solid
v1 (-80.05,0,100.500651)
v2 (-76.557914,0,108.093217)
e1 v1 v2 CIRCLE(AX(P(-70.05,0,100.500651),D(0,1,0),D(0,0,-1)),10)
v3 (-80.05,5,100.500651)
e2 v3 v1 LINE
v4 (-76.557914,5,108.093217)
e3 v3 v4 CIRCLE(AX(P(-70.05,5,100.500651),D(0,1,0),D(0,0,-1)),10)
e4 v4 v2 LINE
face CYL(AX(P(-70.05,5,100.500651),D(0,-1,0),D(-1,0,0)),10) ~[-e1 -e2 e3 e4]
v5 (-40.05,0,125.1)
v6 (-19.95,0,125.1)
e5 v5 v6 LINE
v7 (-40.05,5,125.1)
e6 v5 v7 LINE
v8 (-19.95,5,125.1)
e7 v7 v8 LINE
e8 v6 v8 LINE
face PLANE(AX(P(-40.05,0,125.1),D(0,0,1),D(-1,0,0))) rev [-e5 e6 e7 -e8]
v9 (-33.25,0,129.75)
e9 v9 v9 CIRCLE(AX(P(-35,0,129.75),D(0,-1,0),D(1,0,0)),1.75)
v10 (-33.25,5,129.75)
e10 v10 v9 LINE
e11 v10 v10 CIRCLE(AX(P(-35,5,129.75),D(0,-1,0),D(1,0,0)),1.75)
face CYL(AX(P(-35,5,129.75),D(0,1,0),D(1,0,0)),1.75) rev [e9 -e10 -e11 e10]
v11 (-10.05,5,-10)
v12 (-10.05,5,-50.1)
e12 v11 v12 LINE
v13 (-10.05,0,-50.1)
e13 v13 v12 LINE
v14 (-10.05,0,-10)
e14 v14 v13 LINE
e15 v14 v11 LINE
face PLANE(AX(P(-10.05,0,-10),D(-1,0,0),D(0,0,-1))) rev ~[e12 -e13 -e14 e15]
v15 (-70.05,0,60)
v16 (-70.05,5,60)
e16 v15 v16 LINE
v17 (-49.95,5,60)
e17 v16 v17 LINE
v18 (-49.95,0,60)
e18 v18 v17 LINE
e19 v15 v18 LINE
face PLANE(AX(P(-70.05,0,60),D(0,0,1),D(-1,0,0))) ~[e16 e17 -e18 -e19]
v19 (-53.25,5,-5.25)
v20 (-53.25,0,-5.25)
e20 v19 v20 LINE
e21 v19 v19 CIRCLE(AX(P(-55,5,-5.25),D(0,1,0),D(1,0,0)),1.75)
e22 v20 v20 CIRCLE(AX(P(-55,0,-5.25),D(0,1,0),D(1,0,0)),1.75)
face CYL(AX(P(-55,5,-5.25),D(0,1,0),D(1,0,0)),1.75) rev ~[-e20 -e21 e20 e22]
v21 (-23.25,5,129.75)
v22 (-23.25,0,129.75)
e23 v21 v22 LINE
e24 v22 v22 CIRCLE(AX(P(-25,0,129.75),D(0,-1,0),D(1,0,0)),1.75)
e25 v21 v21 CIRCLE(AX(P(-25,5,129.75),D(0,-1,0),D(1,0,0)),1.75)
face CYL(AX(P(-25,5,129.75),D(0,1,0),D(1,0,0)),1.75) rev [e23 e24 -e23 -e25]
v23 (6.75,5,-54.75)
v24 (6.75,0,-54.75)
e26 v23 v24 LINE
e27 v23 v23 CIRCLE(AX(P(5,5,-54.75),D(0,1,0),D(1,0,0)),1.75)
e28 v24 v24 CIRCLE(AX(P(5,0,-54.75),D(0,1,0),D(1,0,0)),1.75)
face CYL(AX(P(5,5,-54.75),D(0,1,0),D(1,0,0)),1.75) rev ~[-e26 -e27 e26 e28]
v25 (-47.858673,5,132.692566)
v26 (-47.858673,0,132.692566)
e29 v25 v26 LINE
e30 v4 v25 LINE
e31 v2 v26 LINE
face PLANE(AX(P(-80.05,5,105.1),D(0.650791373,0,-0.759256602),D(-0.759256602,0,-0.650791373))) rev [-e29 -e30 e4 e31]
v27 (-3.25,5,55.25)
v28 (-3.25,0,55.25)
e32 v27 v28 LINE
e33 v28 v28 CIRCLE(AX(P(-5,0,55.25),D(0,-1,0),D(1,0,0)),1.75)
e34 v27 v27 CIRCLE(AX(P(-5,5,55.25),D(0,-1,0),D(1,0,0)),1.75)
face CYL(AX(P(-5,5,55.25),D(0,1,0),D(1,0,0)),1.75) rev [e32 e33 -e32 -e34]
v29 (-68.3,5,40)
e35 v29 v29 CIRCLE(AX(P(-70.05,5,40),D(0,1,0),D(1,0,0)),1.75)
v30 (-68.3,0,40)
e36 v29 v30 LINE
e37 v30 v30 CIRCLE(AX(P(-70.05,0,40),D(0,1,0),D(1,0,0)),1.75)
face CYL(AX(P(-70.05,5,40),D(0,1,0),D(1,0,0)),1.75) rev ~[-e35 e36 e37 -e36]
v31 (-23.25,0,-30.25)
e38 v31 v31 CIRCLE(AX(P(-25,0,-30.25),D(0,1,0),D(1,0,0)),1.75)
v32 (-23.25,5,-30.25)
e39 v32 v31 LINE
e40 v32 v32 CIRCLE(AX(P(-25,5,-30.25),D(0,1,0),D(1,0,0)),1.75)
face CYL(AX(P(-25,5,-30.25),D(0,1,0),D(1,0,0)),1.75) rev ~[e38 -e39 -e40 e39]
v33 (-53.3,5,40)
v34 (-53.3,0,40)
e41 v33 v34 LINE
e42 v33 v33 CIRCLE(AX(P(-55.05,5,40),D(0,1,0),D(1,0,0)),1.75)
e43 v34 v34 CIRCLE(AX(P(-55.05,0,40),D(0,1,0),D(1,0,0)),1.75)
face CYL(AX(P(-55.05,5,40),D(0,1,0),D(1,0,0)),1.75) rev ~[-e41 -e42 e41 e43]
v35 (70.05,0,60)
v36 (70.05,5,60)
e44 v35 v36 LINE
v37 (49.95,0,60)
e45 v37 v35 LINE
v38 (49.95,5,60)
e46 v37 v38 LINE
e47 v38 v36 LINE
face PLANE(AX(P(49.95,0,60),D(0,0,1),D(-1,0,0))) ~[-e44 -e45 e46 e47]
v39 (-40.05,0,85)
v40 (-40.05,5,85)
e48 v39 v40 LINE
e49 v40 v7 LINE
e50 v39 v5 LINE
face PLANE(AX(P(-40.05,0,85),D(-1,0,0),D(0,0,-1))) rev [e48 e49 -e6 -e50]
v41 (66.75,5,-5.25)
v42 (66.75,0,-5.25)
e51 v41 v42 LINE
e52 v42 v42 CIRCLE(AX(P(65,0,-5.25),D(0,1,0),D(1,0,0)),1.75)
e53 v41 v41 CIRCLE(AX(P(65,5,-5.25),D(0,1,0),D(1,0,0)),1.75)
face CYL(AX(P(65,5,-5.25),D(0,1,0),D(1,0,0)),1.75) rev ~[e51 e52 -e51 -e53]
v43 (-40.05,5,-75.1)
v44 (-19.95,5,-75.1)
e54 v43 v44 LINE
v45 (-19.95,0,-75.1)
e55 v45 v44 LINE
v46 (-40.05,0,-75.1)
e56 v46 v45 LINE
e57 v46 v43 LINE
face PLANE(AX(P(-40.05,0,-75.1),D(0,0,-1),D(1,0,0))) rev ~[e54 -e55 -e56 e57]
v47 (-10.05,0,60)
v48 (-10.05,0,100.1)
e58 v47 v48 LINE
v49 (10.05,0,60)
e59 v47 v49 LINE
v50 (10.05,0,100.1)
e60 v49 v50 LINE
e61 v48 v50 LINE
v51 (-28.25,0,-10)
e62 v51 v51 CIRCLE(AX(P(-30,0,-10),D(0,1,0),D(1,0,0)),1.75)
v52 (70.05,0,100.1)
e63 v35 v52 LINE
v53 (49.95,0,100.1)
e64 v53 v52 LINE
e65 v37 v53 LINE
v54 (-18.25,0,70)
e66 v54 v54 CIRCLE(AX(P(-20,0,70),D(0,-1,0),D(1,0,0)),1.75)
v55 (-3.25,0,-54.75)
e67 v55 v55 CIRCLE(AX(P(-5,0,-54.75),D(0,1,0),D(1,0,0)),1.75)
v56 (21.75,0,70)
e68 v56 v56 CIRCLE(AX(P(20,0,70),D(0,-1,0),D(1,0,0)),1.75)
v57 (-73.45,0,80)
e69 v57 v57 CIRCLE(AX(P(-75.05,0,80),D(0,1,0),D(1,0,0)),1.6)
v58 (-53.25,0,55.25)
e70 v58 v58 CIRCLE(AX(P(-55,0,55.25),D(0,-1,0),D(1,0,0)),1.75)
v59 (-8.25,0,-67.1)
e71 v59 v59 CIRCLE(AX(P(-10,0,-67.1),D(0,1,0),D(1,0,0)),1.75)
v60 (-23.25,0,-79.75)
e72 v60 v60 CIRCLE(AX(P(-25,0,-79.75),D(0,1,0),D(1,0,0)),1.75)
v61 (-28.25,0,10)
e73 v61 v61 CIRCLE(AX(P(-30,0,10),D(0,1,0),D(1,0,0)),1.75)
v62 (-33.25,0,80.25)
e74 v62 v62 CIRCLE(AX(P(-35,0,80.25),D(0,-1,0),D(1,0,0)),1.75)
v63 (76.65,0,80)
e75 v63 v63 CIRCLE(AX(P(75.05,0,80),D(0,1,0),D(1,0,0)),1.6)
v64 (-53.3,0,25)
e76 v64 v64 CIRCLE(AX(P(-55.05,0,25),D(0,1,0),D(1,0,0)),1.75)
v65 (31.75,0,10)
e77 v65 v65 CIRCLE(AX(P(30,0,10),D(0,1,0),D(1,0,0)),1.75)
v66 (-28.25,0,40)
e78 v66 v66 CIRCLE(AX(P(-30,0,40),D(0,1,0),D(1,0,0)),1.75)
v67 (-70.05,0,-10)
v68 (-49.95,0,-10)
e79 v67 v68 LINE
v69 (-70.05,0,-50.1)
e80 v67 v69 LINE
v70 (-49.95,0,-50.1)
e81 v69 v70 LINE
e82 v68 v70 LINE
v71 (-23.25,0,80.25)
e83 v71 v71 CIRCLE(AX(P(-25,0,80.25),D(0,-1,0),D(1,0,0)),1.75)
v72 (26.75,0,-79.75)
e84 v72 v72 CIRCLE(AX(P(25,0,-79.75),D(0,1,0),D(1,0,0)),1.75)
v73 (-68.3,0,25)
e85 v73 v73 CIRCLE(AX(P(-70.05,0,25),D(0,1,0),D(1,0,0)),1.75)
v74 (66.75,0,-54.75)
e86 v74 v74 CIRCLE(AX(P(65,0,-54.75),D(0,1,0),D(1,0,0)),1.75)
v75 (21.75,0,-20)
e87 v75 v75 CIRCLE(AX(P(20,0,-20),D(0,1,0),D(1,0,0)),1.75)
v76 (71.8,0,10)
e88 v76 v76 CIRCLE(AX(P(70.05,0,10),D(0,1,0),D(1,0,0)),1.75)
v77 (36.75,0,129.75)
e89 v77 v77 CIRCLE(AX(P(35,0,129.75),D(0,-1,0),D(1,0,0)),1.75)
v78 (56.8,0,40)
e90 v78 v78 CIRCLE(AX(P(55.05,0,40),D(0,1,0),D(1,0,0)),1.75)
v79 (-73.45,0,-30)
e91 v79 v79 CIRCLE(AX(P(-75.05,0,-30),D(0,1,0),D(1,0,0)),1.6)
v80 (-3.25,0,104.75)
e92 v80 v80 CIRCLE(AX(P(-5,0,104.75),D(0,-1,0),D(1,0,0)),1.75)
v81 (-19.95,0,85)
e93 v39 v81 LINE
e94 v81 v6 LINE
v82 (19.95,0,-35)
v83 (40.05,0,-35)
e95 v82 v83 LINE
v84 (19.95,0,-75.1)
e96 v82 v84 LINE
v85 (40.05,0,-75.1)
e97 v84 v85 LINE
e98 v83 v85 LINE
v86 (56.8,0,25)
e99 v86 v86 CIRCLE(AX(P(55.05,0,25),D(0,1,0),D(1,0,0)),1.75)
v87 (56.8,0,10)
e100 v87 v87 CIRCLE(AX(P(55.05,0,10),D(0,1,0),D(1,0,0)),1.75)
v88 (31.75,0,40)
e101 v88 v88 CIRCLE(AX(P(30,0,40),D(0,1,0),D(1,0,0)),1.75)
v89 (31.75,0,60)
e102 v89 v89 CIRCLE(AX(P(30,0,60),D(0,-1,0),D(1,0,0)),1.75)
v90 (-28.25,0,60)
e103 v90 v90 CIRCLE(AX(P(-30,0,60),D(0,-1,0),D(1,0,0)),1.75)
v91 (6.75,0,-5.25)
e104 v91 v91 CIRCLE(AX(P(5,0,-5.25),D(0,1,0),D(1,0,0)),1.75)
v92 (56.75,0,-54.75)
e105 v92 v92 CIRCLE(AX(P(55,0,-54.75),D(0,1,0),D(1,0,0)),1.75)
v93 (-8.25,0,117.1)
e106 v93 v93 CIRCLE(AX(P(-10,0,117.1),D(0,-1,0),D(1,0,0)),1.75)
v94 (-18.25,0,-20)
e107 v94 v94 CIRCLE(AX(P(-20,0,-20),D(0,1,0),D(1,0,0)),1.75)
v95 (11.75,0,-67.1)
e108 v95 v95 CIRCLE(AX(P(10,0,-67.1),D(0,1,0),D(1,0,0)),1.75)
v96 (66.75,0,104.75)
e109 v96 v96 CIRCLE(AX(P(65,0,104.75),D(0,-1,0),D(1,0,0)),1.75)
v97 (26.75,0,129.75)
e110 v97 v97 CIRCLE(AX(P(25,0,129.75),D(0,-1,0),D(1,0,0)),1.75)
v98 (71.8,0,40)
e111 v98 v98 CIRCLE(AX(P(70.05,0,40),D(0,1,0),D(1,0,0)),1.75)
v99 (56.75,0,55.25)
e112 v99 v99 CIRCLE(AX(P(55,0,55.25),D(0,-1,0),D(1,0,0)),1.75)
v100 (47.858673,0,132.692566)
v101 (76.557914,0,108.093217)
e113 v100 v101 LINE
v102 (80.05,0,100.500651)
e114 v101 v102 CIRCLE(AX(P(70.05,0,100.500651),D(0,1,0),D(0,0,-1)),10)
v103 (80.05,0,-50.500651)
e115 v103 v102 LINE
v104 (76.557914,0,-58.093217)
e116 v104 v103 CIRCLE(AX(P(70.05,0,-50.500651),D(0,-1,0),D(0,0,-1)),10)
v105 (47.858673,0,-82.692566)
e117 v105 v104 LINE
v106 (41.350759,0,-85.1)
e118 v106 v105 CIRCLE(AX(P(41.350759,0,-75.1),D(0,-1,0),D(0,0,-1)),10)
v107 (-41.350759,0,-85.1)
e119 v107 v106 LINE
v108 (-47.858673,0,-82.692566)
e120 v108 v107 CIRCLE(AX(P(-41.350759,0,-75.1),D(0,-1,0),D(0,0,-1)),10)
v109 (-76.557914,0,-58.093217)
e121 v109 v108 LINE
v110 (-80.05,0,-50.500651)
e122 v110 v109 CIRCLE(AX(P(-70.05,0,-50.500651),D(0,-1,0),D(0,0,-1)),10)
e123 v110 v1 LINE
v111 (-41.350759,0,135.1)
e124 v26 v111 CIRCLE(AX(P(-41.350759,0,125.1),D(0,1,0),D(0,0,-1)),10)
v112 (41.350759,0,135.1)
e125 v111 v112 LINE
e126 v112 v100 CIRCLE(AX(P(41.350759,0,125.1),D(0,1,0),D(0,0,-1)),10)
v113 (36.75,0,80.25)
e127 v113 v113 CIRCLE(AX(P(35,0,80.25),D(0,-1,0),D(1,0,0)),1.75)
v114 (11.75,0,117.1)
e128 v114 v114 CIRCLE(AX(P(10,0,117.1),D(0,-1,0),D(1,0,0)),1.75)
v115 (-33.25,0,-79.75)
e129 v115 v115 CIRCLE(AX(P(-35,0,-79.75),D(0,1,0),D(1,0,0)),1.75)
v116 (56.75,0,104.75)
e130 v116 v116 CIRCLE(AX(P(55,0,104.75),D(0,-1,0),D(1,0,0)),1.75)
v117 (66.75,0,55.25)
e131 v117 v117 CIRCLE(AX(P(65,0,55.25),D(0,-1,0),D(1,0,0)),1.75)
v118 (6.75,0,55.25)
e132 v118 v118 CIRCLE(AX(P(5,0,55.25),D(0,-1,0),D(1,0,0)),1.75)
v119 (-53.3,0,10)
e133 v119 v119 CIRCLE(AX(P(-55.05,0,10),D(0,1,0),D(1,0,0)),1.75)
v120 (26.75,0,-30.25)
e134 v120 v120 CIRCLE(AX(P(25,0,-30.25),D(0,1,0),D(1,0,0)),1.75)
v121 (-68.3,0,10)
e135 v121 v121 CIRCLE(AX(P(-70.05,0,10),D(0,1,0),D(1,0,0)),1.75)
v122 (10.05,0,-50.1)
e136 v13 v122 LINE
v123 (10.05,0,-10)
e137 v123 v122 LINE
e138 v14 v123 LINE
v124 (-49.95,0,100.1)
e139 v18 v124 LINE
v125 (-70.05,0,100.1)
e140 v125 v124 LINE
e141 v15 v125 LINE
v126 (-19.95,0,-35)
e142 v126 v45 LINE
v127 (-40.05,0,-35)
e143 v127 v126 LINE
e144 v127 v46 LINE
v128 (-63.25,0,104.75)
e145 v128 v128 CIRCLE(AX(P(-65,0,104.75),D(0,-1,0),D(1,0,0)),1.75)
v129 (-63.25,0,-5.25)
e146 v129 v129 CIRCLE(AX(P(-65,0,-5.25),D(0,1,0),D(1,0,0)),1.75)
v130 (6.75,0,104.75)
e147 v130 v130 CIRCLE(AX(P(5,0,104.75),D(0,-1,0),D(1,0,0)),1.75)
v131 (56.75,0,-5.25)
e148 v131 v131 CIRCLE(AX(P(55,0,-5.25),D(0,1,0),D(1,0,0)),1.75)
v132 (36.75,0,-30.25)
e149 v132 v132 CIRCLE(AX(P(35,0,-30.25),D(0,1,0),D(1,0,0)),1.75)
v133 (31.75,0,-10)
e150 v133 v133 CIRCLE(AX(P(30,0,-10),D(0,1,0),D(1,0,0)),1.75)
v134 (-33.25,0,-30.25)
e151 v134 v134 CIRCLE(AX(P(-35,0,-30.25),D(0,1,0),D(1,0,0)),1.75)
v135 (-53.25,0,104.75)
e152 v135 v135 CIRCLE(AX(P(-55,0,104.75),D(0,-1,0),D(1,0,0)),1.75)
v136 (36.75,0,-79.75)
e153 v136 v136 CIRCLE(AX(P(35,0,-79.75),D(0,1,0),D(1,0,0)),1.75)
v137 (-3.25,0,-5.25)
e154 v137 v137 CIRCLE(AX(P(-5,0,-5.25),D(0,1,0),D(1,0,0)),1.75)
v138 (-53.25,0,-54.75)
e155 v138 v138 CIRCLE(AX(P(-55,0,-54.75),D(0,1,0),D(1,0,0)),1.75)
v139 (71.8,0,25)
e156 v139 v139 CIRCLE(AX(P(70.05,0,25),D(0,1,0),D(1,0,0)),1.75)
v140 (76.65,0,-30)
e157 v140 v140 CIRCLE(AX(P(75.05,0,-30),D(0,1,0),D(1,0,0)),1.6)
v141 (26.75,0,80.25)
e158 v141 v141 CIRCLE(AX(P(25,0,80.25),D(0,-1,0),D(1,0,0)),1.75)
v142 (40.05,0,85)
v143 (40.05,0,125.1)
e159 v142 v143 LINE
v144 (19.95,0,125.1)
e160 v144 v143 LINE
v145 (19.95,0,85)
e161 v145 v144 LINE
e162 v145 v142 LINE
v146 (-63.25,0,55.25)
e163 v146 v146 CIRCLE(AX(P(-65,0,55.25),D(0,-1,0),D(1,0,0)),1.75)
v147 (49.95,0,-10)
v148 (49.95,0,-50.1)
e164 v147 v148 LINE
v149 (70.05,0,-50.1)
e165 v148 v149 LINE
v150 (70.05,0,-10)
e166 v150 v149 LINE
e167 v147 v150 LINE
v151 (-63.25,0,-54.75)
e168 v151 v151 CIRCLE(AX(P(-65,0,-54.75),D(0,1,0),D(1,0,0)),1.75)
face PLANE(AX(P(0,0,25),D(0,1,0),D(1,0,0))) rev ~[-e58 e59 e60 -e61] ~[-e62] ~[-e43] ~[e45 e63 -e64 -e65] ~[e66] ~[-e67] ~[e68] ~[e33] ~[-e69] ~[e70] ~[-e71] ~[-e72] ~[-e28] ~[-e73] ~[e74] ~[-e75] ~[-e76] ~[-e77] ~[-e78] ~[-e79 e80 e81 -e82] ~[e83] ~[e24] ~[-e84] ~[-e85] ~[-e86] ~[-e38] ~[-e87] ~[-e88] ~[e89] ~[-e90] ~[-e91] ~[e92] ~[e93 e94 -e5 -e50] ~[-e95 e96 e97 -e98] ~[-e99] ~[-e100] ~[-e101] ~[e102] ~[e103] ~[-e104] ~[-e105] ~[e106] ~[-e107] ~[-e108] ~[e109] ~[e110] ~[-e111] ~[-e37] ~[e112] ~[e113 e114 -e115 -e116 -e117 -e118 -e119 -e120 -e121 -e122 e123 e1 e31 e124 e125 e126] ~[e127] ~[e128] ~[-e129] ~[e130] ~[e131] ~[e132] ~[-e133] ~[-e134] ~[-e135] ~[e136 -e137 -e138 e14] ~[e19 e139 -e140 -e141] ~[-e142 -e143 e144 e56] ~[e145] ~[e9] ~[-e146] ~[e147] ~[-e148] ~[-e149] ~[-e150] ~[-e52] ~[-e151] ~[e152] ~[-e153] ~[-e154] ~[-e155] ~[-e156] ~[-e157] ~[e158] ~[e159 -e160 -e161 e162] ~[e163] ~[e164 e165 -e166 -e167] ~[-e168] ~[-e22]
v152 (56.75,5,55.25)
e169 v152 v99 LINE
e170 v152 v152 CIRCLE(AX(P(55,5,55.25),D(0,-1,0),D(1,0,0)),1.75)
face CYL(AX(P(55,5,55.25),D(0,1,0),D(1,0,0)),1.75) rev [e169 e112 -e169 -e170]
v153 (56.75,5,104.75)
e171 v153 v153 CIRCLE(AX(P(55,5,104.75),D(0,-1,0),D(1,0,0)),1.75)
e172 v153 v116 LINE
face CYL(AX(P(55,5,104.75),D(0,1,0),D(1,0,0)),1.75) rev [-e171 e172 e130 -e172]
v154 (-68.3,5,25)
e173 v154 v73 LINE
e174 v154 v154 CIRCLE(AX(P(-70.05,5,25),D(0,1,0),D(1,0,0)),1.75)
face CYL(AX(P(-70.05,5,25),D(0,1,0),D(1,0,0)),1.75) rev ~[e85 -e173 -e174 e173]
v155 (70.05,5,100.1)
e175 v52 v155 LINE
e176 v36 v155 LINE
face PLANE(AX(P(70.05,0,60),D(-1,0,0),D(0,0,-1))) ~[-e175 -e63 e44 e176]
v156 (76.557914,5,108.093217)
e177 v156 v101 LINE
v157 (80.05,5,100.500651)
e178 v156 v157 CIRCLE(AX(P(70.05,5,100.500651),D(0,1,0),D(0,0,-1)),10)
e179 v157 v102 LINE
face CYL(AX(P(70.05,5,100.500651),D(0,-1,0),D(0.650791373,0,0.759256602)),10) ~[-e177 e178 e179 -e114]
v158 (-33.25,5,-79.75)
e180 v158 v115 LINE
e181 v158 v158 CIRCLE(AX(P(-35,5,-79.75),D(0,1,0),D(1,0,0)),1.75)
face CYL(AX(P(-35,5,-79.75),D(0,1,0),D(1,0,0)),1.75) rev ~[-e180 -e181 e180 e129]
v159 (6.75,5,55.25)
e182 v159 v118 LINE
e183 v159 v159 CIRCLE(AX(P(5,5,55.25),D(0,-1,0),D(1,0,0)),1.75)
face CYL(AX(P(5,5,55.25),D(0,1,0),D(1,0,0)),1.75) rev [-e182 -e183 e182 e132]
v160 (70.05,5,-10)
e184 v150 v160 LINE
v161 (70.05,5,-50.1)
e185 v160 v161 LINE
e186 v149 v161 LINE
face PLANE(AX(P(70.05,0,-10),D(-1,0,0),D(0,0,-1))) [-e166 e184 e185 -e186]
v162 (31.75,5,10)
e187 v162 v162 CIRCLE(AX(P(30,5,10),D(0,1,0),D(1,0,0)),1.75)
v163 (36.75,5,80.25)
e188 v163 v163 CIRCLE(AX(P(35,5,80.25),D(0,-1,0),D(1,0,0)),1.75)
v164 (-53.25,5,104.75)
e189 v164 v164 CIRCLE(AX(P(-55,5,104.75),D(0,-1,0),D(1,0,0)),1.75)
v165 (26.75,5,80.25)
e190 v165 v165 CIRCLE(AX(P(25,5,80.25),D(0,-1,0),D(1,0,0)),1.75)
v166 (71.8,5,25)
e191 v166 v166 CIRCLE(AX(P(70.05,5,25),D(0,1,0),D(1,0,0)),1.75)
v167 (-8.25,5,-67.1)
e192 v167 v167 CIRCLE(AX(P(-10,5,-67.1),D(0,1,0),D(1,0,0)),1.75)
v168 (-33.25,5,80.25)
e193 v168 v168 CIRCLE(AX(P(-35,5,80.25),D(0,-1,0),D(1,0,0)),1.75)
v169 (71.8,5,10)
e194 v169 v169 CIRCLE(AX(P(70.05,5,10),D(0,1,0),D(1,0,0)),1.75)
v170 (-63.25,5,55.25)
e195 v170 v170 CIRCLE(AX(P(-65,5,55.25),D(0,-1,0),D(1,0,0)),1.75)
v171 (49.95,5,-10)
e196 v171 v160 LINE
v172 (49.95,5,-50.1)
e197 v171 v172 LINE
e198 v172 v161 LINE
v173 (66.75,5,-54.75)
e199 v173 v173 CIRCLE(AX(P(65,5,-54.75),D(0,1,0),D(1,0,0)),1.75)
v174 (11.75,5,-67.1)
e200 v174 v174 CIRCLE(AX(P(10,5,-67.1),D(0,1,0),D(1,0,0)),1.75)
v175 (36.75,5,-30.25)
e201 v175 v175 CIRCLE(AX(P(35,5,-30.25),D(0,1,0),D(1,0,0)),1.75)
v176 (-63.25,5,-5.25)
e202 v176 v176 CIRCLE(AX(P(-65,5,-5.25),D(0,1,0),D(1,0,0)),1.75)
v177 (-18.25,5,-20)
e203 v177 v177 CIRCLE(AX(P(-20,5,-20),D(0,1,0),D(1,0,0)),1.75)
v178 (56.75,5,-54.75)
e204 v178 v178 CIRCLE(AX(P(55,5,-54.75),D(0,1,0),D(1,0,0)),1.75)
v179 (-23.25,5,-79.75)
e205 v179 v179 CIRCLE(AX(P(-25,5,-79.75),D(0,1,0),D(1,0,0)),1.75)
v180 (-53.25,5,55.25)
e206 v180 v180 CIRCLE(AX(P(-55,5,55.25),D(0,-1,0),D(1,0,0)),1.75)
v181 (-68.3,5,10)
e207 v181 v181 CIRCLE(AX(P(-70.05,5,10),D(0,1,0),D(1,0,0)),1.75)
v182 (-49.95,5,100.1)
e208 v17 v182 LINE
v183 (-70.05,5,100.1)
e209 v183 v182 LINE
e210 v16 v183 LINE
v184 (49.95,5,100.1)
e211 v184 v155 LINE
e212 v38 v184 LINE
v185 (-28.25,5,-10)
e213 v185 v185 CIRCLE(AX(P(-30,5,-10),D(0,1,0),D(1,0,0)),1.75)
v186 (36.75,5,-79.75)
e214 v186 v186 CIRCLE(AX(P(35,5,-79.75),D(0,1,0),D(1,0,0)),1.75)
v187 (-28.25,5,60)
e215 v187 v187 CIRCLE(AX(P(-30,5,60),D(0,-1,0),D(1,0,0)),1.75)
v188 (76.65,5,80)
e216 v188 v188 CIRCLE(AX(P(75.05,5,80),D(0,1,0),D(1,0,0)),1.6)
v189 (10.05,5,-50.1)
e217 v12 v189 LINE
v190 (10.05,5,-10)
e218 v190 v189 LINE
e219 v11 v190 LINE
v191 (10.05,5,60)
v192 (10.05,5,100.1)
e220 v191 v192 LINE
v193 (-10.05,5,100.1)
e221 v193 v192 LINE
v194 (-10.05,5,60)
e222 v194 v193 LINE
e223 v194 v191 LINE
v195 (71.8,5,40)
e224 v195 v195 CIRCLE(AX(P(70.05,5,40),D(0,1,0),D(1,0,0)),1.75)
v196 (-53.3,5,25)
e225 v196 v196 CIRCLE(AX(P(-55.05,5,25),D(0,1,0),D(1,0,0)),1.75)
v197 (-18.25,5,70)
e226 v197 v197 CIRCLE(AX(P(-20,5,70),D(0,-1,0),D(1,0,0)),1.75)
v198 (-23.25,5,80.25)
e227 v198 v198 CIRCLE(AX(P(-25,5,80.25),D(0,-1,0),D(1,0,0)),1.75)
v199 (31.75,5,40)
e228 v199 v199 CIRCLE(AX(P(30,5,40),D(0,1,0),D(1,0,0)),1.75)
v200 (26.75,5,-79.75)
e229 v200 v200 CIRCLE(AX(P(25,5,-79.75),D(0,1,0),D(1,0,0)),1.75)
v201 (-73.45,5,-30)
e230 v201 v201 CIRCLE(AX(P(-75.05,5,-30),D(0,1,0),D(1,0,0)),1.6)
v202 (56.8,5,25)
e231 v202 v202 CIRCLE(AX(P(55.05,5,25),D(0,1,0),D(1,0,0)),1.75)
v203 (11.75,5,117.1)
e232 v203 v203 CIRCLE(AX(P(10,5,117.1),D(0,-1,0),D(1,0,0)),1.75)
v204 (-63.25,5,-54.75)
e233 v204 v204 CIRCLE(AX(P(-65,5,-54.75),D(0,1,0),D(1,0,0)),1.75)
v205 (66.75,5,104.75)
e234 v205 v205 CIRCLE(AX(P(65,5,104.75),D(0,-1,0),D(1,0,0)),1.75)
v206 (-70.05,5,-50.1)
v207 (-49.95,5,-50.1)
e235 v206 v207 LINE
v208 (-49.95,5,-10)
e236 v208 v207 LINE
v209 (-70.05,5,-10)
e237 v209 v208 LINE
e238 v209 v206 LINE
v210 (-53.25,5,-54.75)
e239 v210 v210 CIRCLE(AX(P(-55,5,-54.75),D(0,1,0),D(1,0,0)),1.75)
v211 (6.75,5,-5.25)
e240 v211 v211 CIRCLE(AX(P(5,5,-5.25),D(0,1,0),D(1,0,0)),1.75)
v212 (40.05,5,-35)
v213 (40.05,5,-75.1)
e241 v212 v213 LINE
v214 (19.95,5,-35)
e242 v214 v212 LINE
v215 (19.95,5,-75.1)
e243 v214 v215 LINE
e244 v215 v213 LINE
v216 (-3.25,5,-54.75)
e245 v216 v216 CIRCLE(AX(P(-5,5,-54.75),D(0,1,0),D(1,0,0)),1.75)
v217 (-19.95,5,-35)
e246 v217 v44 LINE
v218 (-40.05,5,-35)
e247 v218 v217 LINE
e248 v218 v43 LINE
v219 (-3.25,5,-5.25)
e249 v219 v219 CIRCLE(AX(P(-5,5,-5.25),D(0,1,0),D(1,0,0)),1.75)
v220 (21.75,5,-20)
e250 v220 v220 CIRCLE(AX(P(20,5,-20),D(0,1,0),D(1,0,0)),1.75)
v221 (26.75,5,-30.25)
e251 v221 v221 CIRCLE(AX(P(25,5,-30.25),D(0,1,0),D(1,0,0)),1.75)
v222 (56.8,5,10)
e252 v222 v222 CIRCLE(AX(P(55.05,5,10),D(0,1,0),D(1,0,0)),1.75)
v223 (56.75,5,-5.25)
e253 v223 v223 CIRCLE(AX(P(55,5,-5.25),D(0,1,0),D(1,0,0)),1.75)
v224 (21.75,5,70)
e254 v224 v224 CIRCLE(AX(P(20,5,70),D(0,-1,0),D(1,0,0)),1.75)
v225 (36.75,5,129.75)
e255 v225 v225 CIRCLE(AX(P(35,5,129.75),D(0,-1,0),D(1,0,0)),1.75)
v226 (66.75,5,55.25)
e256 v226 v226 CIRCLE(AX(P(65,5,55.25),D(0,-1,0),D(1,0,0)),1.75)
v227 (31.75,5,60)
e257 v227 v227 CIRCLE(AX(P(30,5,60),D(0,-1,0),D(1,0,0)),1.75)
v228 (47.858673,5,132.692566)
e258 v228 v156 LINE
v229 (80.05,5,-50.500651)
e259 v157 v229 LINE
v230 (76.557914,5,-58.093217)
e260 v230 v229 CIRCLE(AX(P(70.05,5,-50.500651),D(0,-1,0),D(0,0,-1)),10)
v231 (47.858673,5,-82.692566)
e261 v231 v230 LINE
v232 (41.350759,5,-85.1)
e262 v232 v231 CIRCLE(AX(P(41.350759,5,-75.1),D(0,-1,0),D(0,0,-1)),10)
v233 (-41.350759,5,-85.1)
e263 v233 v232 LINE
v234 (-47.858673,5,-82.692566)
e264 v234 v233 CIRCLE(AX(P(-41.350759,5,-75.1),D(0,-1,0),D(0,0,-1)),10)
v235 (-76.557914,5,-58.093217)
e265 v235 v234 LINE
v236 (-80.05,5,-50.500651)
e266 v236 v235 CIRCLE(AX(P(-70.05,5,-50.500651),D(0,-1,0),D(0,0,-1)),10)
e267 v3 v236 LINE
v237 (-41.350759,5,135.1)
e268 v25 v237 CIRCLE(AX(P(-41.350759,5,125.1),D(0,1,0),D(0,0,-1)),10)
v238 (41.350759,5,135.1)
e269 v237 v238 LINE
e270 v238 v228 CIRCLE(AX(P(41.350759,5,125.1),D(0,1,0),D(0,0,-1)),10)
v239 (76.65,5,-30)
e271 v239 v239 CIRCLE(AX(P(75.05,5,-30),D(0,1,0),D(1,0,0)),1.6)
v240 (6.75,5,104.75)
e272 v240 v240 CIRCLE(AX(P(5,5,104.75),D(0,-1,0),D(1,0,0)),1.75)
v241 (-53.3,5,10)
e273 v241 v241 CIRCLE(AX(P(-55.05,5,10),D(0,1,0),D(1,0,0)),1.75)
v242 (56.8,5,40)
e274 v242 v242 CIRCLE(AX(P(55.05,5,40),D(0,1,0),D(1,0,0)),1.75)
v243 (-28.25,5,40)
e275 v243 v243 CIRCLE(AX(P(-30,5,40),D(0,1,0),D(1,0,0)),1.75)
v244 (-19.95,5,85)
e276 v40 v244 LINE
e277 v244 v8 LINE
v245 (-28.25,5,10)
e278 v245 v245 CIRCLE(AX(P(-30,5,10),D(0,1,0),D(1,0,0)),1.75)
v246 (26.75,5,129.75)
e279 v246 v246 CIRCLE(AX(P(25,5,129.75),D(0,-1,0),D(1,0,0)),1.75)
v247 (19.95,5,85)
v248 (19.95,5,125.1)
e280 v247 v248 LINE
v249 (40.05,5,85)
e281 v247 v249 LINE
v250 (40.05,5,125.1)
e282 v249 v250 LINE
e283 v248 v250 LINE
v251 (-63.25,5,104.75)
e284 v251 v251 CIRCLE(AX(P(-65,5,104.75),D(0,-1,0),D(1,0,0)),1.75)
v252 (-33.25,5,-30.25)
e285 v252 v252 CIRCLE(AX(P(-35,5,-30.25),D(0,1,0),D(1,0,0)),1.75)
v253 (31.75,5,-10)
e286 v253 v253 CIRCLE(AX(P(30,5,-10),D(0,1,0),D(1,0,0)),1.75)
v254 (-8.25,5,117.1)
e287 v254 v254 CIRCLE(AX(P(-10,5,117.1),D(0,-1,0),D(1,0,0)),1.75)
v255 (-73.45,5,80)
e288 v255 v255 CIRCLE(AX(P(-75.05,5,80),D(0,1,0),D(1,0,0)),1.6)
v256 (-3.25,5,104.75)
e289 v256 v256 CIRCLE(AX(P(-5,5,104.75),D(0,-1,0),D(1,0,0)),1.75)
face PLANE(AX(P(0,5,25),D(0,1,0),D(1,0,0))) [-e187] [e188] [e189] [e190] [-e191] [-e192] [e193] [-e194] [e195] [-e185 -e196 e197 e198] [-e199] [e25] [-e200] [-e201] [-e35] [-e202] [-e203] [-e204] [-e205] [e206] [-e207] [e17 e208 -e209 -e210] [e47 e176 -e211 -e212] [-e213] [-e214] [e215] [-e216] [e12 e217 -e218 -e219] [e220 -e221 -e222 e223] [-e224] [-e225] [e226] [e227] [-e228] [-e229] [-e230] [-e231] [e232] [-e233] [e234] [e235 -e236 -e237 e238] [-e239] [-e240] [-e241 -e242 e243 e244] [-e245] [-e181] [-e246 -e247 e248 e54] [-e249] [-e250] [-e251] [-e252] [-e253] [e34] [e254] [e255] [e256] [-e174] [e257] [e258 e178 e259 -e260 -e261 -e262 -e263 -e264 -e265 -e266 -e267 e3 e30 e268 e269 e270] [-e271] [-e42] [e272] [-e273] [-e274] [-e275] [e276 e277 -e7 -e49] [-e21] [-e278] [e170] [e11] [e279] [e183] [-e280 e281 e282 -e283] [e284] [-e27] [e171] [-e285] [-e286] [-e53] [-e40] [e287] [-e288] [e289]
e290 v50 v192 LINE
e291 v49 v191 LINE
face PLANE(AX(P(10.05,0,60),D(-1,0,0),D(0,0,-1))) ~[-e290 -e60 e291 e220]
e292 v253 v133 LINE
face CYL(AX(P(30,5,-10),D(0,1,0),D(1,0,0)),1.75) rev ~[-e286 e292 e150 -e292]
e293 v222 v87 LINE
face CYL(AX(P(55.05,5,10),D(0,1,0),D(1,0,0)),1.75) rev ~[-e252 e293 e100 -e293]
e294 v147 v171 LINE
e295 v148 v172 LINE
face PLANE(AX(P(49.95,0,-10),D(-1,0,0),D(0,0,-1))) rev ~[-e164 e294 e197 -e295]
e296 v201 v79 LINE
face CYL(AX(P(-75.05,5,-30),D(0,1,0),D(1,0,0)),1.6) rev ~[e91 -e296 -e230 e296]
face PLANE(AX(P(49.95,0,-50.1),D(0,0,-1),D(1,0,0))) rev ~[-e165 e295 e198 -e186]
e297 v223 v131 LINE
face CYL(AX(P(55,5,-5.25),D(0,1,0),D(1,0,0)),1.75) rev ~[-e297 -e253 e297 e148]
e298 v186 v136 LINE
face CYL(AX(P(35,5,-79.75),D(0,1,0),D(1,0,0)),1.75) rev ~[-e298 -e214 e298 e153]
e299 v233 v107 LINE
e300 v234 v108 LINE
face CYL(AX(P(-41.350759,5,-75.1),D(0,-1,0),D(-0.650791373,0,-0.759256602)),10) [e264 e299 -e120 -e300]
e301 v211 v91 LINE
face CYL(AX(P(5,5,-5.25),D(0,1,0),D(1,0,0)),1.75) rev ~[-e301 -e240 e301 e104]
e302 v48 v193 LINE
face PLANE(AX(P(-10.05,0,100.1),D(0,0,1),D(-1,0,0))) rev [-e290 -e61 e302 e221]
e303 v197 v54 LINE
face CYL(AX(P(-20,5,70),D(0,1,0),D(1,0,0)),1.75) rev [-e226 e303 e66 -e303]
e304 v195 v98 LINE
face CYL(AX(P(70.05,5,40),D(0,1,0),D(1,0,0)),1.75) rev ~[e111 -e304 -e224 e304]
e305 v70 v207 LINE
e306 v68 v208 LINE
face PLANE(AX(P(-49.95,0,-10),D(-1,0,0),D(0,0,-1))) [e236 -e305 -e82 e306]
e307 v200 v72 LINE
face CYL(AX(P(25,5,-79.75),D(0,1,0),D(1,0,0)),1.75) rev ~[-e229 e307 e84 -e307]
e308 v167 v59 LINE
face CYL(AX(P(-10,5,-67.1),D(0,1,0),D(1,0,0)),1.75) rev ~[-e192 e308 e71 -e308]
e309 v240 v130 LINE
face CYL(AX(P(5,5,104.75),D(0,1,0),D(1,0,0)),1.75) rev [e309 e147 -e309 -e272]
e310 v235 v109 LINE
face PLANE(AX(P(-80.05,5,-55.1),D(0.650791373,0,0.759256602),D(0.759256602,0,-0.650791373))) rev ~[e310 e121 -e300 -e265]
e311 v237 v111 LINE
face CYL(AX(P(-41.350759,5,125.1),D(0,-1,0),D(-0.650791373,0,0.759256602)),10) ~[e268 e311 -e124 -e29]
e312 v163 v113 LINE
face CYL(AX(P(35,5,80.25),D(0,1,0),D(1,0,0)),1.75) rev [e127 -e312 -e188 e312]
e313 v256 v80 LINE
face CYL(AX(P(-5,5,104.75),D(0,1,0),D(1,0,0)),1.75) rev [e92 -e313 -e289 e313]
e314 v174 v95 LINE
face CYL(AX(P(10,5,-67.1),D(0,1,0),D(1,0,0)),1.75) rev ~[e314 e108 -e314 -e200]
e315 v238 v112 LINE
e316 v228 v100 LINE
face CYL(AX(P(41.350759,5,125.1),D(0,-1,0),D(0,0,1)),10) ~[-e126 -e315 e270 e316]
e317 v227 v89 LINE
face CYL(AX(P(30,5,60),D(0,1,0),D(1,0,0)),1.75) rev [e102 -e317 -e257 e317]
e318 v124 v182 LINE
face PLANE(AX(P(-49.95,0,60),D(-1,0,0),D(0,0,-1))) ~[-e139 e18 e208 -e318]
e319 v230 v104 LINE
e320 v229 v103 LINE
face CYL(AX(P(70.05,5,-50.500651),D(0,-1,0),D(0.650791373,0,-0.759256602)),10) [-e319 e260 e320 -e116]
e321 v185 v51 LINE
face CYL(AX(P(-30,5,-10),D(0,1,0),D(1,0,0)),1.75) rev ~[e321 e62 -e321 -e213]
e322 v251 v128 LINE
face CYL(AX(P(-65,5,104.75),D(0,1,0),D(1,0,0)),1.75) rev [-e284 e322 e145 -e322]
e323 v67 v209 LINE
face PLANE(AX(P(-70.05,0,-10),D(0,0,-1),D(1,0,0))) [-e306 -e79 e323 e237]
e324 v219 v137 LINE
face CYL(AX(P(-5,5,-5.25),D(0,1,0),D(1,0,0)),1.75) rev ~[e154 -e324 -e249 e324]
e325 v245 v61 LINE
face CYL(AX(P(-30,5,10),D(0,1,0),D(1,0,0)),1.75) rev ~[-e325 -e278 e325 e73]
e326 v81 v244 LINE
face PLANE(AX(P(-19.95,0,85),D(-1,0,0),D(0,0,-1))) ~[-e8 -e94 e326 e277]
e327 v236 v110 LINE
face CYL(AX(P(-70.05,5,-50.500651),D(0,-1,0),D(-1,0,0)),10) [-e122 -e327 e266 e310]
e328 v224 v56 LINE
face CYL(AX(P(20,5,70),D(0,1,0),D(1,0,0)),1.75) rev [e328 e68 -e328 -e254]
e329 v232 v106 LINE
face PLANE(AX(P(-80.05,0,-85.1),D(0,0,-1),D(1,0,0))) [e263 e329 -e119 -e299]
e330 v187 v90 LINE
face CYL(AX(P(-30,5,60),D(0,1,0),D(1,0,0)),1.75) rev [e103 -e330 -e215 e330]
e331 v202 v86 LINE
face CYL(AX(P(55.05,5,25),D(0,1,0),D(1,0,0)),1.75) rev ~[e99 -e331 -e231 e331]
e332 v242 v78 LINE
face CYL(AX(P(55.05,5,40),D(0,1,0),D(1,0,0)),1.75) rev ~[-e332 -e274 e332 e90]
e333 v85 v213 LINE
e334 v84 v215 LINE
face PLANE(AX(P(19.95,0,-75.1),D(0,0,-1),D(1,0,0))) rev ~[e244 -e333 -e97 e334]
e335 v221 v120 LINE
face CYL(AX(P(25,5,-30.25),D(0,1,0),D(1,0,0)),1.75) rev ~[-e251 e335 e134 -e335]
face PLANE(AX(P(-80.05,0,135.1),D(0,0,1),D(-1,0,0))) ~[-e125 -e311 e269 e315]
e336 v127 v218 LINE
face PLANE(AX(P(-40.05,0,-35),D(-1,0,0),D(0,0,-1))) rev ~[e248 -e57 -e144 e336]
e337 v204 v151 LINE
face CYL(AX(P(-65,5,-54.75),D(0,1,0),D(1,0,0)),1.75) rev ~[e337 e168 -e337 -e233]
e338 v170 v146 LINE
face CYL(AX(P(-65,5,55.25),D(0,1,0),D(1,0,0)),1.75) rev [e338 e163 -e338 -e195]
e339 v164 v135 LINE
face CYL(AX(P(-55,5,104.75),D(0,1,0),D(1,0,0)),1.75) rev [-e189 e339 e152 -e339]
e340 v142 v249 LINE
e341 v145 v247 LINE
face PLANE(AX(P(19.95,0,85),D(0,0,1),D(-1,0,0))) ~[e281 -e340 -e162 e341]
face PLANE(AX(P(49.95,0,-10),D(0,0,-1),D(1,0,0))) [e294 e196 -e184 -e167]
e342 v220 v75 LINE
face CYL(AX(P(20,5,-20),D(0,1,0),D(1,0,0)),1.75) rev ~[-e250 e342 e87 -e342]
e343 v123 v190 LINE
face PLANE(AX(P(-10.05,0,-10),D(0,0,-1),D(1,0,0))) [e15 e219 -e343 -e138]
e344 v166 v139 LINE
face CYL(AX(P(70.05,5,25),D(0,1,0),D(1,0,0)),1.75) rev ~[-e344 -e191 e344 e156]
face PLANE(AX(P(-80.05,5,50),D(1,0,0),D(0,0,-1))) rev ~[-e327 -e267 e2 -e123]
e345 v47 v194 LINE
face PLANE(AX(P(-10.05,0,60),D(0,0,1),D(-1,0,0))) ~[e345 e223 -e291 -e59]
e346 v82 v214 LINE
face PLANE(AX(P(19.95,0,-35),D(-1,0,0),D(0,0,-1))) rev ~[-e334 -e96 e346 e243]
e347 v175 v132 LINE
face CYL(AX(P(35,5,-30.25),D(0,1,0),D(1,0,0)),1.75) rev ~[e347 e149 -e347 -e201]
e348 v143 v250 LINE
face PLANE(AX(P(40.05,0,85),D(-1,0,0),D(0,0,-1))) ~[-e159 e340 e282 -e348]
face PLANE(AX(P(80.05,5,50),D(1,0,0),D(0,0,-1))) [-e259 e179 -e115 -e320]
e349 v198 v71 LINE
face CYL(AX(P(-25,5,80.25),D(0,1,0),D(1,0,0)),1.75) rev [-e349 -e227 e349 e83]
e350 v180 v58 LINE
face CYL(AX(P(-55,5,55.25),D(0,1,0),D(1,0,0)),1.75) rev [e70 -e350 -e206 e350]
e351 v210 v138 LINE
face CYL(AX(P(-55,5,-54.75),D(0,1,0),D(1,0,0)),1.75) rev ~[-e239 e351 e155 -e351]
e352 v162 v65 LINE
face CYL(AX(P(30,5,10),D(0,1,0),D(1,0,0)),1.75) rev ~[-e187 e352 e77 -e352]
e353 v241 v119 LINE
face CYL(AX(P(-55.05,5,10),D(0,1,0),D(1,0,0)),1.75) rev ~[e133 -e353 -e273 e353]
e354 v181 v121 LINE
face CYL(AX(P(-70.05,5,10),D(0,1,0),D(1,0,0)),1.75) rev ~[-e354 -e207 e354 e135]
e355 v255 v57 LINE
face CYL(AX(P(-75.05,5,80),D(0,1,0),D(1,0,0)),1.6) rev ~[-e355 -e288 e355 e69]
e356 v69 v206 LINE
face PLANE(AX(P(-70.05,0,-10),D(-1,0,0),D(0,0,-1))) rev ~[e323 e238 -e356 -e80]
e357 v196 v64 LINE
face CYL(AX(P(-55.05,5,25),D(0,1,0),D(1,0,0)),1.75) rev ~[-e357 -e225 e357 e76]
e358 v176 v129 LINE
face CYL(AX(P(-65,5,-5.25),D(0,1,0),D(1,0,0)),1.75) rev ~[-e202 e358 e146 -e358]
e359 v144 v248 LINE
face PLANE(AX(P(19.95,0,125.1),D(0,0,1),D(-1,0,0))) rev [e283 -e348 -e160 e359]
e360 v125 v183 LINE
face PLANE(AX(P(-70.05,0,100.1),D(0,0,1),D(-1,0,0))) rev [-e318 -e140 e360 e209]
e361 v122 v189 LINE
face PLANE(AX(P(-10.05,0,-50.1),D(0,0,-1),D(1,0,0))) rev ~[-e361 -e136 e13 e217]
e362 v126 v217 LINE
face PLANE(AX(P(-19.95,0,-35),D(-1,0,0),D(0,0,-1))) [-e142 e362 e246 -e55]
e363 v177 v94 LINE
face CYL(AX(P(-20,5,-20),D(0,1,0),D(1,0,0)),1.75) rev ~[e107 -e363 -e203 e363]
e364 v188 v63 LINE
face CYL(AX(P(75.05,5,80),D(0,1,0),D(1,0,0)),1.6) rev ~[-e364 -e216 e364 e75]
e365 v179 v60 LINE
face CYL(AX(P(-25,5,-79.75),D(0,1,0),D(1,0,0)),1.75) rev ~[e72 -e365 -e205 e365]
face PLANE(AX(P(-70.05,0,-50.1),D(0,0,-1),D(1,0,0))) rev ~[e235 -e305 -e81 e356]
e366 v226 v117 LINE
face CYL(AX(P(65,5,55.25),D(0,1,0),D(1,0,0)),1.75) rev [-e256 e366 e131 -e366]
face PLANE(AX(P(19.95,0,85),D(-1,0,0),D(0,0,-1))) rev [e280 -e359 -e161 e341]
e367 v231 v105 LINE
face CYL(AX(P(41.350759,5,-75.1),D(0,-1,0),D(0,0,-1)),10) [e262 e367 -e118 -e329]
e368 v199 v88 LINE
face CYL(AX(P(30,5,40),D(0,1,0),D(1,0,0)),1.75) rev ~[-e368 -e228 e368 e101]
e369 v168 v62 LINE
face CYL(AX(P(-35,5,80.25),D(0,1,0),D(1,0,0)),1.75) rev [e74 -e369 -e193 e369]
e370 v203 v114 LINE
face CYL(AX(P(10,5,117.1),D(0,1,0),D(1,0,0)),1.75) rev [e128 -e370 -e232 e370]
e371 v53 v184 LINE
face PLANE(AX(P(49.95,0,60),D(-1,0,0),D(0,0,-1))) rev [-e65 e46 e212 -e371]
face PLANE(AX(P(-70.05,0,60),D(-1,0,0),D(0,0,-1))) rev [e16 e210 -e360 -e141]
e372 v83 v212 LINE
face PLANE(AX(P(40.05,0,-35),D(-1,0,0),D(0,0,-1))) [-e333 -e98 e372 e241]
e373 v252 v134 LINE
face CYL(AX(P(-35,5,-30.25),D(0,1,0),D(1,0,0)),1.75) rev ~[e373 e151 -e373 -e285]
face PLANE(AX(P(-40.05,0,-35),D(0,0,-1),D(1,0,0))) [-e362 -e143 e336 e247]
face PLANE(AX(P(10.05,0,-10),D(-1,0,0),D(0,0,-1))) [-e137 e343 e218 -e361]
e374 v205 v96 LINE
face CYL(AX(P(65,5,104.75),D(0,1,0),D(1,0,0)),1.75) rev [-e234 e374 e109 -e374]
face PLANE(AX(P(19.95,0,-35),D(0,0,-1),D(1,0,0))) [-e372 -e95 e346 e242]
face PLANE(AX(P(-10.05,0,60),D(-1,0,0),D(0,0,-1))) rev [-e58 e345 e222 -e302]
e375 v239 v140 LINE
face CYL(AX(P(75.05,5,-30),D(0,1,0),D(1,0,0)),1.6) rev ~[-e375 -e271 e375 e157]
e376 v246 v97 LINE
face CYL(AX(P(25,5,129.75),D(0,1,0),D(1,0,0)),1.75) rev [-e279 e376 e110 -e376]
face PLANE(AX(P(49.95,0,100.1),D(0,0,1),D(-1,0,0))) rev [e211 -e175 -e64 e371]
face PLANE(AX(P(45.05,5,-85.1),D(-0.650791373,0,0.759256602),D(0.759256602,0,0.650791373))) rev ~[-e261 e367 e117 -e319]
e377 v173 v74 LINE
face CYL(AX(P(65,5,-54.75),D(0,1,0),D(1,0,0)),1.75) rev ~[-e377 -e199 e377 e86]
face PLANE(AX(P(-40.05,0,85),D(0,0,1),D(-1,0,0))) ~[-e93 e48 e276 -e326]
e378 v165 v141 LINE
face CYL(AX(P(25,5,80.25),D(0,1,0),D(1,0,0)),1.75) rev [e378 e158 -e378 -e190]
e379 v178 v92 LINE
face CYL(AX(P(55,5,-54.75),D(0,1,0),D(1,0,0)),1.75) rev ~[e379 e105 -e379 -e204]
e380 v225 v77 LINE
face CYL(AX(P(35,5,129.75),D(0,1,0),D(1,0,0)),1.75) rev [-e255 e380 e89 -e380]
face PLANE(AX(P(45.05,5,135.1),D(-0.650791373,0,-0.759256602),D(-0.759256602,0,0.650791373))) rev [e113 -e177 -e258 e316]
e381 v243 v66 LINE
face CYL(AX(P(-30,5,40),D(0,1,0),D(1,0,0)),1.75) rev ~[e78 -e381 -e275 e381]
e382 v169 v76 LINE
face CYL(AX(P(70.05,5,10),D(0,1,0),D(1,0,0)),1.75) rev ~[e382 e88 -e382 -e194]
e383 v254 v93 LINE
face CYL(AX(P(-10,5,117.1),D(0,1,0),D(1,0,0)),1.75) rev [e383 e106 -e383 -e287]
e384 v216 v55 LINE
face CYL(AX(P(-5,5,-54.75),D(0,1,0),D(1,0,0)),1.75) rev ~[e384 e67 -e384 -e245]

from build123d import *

# Parameters (mm, degrees)
SKETCH_1_W               = 160.1
SKETCH_1_H               = 85.1
SKETCH_1_W_2             = 20.1
SKETCH_1_H_2             = 40.1
EXTRUDE_1_DEPTH          = 5
CUT_EXTRUDE_1_DEPTH      = 1
CUT_EXTRUDE_1_DEPTH_BACK = 6
SKETCH_3_R               = 1.75
CUT_EXTRUDE_2_DEPTH      = 6
SKETCH_4_R               = 1.75
CUT_EXTRUDE_3_DEPTH      = 6
SKETCH_5_R               = 1.75
CUT_EXTRUDE_4_DEPTH      = 6
SKETCH_6_W               = 160.1
SKETCH_6_H               = 50
EXTRUDE_2_DEPTH          = 5
SKETCH_7_R               = 1.75
CUT_EXTRUDE_5_DEPTH      = 6
SKETCH_8_R               = 1.75
SKETCH_8_R_2             = 1.6
CUT_EXTRUDE_6_DEPTH      = 6
FILLET_1_R               = 10


with BuildPart() as part:
    # ｽｹｯﾁ1 → ﾎﾞｽ - 押し出し1 (new body)
    with BuildSketch(Plane(origin=(0, 0, 0), x_dir=(1, 0, 0), z_dir=(0, 1, 0))):
        with Locations((0, 42.55)):
            Rectangle(SKETCH_1_W, SKETCH_1_H)
        with Locations((0, 30.05)):
            Rectangle(SKETCH_1_W_2, SKETCH_1_H_2, mode=Mode.SUBTRACT)
        with Locations((60, 30.05)):
            Rectangle(SKETCH_1_W_2, SKETCH_1_H_2, mode=Mode.SUBTRACT)
        with Locations((30, 55.05)):
            Rectangle(SKETCH_1_W_2, SKETCH_1_H_2, mode=Mode.SUBTRACT)
        with Locations((-60, 30.05)):
            Rectangle(SKETCH_1_W_2, SKETCH_1_H_2, mode=Mode.SUBTRACT)
        with Locations((-30, 55.05)):
            Rectangle(SKETCH_1_W_2, SKETCH_1_H_2, mode=Mode.SUBTRACT)
    extrude(amount=EXTRUDE_1_DEPTH)

    # ｽｹｯﾁ2 → ｶｯﾄ - 押し出し1 (cut, two sides)
    with BuildSketch(Plane(origin=(0, 5, 0), x_dir=(1, 0, 0), z_dir=(0, 1, 0))) as cut_extrude_1_sk:
        Polygon((45.05, 85.1), (80.05, 55.1), (80.05, 85.1), align=None)
        Polygon((-80.05, 55.1), (-45.05, 85.1), (-80.05, 85.1), align=None)
    extrude(amount=CUT_EXTRUDE_1_DEPTH, mode=Mode.SUBTRACT)
    extrude(cut_extrude_1_sk.sketch, amount=-CUT_EXTRUDE_1_DEPTH_BACK, mode=Mode.SUBTRACT)

    # ｽｹｯﾁ3 → ｶｯﾄ - 押し出し2 (cut, through all)
    with BuildSketch(Plane(origin=(0, 5, 0), x_dir=(1, 0, 0), z_dir=(0, 1, 0))):
        with Locations((65, 5.25)):
            Circle(SKETCH_3_R)
        with Locations((55, 5.25)):
            Circle(SKETCH_3_R)
        with Locations((5, 5.25)):
            Circle(SKETCH_3_R)
        with Locations((-5, 5.25)):
            Circle(SKETCH_3_R)
        with Locations((-55, 5.25)):
            Circle(SKETCH_3_R)
        with Locations((-65, 5.25)):
            Circle(SKETCH_3_R)
        with Locations((-35, 79.75)):
            Circle(SKETCH_3_R)
        with Locations((-25, 79.75)):
            Circle(SKETCH_3_R)
        with Locations((25, 79.75)):
            Circle(SKETCH_3_R)
        with Locations((35, 79.75)):
            Circle(SKETCH_3_R)
        with Locations((65, 54.75)):
            Circle(SKETCH_3_R)
        with Locations((55, 54.75)):
            Circle(SKETCH_3_R)
        with Locations((5, 54.75)):
            Circle(SKETCH_3_R)
        with Locations((-5, 54.75)):
            Circle(SKETCH_3_R)
        with Locations((-55, 54.75)):
            Circle(SKETCH_3_R)
        with Locations((-65, 54.75)):
            Circle(SKETCH_3_R)
        with Locations((-35, 30.25)):
            Circle(SKETCH_3_R)
        with Locations((-25, 30.25)):
            Circle(SKETCH_3_R)
        with Locations((25, 30.25)):
            Circle(SKETCH_3_R)
        with Locations((35, 30.25)):
            Circle(SKETCH_3_R)
    extrude(amount=-CUT_EXTRUDE_2_DEPTH, mode=Mode.SUBTRACT)

    # ｽｹｯﾁ4 → ｶｯﾄ - 押し出し3 (cut, through all)
    with BuildSketch(Plane(origin=(0, 5, 0), x_dir=(1, 0, 0), z_dir=(0, 1, 0))):
        with Locations((30, 10)):
            Circle(SKETCH_4_R)
        with Locations((-30, 10)):
            Circle(SKETCH_4_R)
        with Locations((20, 20)):
            Circle(SKETCH_4_R)
        with Locations((-20, 20)):
            Circle(SKETCH_4_R)
    extrude(amount=-CUT_EXTRUDE_3_DEPTH, mode=Mode.SUBTRACT)

    # ｽｹｯﾁ5 → ｶｯﾄ - 押し出し4 (cut, through all)
    with BuildSketch(Plane(origin=(0, 5, 0), x_dir=(1, 0, 0), z_dir=(0, 1, 0))):
        with Locations((-10, 67.1)):
            Circle(SKETCH_5_R)
        with Locations((10, 67.1)):
            Circle(SKETCH_5_R)
    extrude(amount=-CUT_EXTRUDE_4_DEPTH, mode=Mode.SUBTRACT)


with BuildPart() as body_2:
    # ﾐﾗｰ2: mirrored copy
    add(part.part.mirror(Plane.XY.offset(25)))


with BuildPart() as part_1:
    add(part.part)

    add(body_2.part)  # ﾎﾞｽ - 押し出し2 merges body 2
    # ｽｹｯﾁ6 → ﾎﾞｽ - 押し出し2 (add)
    with BuildSketch(Plane(origin=(0, 5, 0), x_dir=(1, 0, 0), z_dir=(0, 1, 0))):
        with Locations((0, -25)):
            Rectangle(SKETCH_6_W, SKETCH_6_H)
    extrude(amount=-EXTRUDE_2_DEPTH)

    # ｽｹｯﾁ7 → ｶｯﾄ - 押し出し5 (cut, through all)
    with BuildSketch(Plane(origin=(0, 5, 0), x_dir=(1, 0, 0), z_dir=(0, 1, 0))):
        with Locations((-30, -10)):
            Circle(SKETCH_7_R)
        with Locations((-30, -40)):
            Circle(SKETCH_7_R)
        with Locations((30, -40)):
            Circle(SKETCH_7_R)
        with Locations((30, -10)):
            Circle(SKETCH_7_R)
    extrude(amount=-CUT_EXTRUDE_5_DEPTH, mode=Mode.SUBTRACT)

    # ｽｹｯﾁ8 → ｶｯﾄ - 押し出し6 (cut, through all)
    with BuildSketch(Plane(origin=(0, 5, 0), x_dir=(1, 0, 0), z_dir=(0, 1, 0))):
        with Locations((-70.05, -25)):
            Circle(SKETCH_8_R)
        with Locations((-70.05, -40)):
            Circle(SKETCH_8_R)
        with Locations((-70.05, -10)):
            Circle(SKETCH_8_R)
        with Locations((70.05, -40)):
            Circle(SKETCH_8_R)
        with Locations((70.05, -25)):
            Circle(SKETCH_8_R)
        with Locations((70.05, -10)):
            Circle(SKETCH_8_R)
        with Locations((-75.05, -80)):
            Circle(SKETCH_8_R_2)
        with Locations((-75.05, 30)):
            Circle(SKETCH_8_R_2)
        with Locations((75.05, -80)):
            Circle(SKETCH_8_R_2)
        with Locations((75.05, 30)):
            Circle(SKETCH_8_R_2)
        with Locations((-55.05, -10)):
            Circle(SKETCH_8_R)
        with Locations((-55.05, -25)):
            Circle(SKETCH_8_R)
        with Locations((-55.05, -40)):
            Circle(SKETCH_8_R)
        with Locations((55.05, -10)):
            Circle(SKETCH_8_R)
        with Locations((55.05, -25)):
            Circle(SKETCH_8_R)
        with Locations((55.05, -40)):
            Circle(SKETCH_8_R)
    extrude(amount=-CUT_EXTRUDE_6_DEPTH, mode=Mode.SUBTRACT)

    # ﾌｨﾚｯﾄ1
    fillet_1_edges = [part_1.edges().sort_by_distance(p)[0] for p in [
        (45.05, 2.5, -85.1),
        (-45.05, 2.5, -85.1),
        (-80.05, 2.5, -55.1),
        (80.05, 2.5, -55.1),
        (-80.05, 2.5, 105.1),
        (45.05, 2.5, 135.1),
        (80.05, 2.5, 105.1),
        (-45.05, 2.5, 135.1),
    ]]
    fillet(fillet_1_edges, radius=FILLET_1_R)


solid = part_1.part
